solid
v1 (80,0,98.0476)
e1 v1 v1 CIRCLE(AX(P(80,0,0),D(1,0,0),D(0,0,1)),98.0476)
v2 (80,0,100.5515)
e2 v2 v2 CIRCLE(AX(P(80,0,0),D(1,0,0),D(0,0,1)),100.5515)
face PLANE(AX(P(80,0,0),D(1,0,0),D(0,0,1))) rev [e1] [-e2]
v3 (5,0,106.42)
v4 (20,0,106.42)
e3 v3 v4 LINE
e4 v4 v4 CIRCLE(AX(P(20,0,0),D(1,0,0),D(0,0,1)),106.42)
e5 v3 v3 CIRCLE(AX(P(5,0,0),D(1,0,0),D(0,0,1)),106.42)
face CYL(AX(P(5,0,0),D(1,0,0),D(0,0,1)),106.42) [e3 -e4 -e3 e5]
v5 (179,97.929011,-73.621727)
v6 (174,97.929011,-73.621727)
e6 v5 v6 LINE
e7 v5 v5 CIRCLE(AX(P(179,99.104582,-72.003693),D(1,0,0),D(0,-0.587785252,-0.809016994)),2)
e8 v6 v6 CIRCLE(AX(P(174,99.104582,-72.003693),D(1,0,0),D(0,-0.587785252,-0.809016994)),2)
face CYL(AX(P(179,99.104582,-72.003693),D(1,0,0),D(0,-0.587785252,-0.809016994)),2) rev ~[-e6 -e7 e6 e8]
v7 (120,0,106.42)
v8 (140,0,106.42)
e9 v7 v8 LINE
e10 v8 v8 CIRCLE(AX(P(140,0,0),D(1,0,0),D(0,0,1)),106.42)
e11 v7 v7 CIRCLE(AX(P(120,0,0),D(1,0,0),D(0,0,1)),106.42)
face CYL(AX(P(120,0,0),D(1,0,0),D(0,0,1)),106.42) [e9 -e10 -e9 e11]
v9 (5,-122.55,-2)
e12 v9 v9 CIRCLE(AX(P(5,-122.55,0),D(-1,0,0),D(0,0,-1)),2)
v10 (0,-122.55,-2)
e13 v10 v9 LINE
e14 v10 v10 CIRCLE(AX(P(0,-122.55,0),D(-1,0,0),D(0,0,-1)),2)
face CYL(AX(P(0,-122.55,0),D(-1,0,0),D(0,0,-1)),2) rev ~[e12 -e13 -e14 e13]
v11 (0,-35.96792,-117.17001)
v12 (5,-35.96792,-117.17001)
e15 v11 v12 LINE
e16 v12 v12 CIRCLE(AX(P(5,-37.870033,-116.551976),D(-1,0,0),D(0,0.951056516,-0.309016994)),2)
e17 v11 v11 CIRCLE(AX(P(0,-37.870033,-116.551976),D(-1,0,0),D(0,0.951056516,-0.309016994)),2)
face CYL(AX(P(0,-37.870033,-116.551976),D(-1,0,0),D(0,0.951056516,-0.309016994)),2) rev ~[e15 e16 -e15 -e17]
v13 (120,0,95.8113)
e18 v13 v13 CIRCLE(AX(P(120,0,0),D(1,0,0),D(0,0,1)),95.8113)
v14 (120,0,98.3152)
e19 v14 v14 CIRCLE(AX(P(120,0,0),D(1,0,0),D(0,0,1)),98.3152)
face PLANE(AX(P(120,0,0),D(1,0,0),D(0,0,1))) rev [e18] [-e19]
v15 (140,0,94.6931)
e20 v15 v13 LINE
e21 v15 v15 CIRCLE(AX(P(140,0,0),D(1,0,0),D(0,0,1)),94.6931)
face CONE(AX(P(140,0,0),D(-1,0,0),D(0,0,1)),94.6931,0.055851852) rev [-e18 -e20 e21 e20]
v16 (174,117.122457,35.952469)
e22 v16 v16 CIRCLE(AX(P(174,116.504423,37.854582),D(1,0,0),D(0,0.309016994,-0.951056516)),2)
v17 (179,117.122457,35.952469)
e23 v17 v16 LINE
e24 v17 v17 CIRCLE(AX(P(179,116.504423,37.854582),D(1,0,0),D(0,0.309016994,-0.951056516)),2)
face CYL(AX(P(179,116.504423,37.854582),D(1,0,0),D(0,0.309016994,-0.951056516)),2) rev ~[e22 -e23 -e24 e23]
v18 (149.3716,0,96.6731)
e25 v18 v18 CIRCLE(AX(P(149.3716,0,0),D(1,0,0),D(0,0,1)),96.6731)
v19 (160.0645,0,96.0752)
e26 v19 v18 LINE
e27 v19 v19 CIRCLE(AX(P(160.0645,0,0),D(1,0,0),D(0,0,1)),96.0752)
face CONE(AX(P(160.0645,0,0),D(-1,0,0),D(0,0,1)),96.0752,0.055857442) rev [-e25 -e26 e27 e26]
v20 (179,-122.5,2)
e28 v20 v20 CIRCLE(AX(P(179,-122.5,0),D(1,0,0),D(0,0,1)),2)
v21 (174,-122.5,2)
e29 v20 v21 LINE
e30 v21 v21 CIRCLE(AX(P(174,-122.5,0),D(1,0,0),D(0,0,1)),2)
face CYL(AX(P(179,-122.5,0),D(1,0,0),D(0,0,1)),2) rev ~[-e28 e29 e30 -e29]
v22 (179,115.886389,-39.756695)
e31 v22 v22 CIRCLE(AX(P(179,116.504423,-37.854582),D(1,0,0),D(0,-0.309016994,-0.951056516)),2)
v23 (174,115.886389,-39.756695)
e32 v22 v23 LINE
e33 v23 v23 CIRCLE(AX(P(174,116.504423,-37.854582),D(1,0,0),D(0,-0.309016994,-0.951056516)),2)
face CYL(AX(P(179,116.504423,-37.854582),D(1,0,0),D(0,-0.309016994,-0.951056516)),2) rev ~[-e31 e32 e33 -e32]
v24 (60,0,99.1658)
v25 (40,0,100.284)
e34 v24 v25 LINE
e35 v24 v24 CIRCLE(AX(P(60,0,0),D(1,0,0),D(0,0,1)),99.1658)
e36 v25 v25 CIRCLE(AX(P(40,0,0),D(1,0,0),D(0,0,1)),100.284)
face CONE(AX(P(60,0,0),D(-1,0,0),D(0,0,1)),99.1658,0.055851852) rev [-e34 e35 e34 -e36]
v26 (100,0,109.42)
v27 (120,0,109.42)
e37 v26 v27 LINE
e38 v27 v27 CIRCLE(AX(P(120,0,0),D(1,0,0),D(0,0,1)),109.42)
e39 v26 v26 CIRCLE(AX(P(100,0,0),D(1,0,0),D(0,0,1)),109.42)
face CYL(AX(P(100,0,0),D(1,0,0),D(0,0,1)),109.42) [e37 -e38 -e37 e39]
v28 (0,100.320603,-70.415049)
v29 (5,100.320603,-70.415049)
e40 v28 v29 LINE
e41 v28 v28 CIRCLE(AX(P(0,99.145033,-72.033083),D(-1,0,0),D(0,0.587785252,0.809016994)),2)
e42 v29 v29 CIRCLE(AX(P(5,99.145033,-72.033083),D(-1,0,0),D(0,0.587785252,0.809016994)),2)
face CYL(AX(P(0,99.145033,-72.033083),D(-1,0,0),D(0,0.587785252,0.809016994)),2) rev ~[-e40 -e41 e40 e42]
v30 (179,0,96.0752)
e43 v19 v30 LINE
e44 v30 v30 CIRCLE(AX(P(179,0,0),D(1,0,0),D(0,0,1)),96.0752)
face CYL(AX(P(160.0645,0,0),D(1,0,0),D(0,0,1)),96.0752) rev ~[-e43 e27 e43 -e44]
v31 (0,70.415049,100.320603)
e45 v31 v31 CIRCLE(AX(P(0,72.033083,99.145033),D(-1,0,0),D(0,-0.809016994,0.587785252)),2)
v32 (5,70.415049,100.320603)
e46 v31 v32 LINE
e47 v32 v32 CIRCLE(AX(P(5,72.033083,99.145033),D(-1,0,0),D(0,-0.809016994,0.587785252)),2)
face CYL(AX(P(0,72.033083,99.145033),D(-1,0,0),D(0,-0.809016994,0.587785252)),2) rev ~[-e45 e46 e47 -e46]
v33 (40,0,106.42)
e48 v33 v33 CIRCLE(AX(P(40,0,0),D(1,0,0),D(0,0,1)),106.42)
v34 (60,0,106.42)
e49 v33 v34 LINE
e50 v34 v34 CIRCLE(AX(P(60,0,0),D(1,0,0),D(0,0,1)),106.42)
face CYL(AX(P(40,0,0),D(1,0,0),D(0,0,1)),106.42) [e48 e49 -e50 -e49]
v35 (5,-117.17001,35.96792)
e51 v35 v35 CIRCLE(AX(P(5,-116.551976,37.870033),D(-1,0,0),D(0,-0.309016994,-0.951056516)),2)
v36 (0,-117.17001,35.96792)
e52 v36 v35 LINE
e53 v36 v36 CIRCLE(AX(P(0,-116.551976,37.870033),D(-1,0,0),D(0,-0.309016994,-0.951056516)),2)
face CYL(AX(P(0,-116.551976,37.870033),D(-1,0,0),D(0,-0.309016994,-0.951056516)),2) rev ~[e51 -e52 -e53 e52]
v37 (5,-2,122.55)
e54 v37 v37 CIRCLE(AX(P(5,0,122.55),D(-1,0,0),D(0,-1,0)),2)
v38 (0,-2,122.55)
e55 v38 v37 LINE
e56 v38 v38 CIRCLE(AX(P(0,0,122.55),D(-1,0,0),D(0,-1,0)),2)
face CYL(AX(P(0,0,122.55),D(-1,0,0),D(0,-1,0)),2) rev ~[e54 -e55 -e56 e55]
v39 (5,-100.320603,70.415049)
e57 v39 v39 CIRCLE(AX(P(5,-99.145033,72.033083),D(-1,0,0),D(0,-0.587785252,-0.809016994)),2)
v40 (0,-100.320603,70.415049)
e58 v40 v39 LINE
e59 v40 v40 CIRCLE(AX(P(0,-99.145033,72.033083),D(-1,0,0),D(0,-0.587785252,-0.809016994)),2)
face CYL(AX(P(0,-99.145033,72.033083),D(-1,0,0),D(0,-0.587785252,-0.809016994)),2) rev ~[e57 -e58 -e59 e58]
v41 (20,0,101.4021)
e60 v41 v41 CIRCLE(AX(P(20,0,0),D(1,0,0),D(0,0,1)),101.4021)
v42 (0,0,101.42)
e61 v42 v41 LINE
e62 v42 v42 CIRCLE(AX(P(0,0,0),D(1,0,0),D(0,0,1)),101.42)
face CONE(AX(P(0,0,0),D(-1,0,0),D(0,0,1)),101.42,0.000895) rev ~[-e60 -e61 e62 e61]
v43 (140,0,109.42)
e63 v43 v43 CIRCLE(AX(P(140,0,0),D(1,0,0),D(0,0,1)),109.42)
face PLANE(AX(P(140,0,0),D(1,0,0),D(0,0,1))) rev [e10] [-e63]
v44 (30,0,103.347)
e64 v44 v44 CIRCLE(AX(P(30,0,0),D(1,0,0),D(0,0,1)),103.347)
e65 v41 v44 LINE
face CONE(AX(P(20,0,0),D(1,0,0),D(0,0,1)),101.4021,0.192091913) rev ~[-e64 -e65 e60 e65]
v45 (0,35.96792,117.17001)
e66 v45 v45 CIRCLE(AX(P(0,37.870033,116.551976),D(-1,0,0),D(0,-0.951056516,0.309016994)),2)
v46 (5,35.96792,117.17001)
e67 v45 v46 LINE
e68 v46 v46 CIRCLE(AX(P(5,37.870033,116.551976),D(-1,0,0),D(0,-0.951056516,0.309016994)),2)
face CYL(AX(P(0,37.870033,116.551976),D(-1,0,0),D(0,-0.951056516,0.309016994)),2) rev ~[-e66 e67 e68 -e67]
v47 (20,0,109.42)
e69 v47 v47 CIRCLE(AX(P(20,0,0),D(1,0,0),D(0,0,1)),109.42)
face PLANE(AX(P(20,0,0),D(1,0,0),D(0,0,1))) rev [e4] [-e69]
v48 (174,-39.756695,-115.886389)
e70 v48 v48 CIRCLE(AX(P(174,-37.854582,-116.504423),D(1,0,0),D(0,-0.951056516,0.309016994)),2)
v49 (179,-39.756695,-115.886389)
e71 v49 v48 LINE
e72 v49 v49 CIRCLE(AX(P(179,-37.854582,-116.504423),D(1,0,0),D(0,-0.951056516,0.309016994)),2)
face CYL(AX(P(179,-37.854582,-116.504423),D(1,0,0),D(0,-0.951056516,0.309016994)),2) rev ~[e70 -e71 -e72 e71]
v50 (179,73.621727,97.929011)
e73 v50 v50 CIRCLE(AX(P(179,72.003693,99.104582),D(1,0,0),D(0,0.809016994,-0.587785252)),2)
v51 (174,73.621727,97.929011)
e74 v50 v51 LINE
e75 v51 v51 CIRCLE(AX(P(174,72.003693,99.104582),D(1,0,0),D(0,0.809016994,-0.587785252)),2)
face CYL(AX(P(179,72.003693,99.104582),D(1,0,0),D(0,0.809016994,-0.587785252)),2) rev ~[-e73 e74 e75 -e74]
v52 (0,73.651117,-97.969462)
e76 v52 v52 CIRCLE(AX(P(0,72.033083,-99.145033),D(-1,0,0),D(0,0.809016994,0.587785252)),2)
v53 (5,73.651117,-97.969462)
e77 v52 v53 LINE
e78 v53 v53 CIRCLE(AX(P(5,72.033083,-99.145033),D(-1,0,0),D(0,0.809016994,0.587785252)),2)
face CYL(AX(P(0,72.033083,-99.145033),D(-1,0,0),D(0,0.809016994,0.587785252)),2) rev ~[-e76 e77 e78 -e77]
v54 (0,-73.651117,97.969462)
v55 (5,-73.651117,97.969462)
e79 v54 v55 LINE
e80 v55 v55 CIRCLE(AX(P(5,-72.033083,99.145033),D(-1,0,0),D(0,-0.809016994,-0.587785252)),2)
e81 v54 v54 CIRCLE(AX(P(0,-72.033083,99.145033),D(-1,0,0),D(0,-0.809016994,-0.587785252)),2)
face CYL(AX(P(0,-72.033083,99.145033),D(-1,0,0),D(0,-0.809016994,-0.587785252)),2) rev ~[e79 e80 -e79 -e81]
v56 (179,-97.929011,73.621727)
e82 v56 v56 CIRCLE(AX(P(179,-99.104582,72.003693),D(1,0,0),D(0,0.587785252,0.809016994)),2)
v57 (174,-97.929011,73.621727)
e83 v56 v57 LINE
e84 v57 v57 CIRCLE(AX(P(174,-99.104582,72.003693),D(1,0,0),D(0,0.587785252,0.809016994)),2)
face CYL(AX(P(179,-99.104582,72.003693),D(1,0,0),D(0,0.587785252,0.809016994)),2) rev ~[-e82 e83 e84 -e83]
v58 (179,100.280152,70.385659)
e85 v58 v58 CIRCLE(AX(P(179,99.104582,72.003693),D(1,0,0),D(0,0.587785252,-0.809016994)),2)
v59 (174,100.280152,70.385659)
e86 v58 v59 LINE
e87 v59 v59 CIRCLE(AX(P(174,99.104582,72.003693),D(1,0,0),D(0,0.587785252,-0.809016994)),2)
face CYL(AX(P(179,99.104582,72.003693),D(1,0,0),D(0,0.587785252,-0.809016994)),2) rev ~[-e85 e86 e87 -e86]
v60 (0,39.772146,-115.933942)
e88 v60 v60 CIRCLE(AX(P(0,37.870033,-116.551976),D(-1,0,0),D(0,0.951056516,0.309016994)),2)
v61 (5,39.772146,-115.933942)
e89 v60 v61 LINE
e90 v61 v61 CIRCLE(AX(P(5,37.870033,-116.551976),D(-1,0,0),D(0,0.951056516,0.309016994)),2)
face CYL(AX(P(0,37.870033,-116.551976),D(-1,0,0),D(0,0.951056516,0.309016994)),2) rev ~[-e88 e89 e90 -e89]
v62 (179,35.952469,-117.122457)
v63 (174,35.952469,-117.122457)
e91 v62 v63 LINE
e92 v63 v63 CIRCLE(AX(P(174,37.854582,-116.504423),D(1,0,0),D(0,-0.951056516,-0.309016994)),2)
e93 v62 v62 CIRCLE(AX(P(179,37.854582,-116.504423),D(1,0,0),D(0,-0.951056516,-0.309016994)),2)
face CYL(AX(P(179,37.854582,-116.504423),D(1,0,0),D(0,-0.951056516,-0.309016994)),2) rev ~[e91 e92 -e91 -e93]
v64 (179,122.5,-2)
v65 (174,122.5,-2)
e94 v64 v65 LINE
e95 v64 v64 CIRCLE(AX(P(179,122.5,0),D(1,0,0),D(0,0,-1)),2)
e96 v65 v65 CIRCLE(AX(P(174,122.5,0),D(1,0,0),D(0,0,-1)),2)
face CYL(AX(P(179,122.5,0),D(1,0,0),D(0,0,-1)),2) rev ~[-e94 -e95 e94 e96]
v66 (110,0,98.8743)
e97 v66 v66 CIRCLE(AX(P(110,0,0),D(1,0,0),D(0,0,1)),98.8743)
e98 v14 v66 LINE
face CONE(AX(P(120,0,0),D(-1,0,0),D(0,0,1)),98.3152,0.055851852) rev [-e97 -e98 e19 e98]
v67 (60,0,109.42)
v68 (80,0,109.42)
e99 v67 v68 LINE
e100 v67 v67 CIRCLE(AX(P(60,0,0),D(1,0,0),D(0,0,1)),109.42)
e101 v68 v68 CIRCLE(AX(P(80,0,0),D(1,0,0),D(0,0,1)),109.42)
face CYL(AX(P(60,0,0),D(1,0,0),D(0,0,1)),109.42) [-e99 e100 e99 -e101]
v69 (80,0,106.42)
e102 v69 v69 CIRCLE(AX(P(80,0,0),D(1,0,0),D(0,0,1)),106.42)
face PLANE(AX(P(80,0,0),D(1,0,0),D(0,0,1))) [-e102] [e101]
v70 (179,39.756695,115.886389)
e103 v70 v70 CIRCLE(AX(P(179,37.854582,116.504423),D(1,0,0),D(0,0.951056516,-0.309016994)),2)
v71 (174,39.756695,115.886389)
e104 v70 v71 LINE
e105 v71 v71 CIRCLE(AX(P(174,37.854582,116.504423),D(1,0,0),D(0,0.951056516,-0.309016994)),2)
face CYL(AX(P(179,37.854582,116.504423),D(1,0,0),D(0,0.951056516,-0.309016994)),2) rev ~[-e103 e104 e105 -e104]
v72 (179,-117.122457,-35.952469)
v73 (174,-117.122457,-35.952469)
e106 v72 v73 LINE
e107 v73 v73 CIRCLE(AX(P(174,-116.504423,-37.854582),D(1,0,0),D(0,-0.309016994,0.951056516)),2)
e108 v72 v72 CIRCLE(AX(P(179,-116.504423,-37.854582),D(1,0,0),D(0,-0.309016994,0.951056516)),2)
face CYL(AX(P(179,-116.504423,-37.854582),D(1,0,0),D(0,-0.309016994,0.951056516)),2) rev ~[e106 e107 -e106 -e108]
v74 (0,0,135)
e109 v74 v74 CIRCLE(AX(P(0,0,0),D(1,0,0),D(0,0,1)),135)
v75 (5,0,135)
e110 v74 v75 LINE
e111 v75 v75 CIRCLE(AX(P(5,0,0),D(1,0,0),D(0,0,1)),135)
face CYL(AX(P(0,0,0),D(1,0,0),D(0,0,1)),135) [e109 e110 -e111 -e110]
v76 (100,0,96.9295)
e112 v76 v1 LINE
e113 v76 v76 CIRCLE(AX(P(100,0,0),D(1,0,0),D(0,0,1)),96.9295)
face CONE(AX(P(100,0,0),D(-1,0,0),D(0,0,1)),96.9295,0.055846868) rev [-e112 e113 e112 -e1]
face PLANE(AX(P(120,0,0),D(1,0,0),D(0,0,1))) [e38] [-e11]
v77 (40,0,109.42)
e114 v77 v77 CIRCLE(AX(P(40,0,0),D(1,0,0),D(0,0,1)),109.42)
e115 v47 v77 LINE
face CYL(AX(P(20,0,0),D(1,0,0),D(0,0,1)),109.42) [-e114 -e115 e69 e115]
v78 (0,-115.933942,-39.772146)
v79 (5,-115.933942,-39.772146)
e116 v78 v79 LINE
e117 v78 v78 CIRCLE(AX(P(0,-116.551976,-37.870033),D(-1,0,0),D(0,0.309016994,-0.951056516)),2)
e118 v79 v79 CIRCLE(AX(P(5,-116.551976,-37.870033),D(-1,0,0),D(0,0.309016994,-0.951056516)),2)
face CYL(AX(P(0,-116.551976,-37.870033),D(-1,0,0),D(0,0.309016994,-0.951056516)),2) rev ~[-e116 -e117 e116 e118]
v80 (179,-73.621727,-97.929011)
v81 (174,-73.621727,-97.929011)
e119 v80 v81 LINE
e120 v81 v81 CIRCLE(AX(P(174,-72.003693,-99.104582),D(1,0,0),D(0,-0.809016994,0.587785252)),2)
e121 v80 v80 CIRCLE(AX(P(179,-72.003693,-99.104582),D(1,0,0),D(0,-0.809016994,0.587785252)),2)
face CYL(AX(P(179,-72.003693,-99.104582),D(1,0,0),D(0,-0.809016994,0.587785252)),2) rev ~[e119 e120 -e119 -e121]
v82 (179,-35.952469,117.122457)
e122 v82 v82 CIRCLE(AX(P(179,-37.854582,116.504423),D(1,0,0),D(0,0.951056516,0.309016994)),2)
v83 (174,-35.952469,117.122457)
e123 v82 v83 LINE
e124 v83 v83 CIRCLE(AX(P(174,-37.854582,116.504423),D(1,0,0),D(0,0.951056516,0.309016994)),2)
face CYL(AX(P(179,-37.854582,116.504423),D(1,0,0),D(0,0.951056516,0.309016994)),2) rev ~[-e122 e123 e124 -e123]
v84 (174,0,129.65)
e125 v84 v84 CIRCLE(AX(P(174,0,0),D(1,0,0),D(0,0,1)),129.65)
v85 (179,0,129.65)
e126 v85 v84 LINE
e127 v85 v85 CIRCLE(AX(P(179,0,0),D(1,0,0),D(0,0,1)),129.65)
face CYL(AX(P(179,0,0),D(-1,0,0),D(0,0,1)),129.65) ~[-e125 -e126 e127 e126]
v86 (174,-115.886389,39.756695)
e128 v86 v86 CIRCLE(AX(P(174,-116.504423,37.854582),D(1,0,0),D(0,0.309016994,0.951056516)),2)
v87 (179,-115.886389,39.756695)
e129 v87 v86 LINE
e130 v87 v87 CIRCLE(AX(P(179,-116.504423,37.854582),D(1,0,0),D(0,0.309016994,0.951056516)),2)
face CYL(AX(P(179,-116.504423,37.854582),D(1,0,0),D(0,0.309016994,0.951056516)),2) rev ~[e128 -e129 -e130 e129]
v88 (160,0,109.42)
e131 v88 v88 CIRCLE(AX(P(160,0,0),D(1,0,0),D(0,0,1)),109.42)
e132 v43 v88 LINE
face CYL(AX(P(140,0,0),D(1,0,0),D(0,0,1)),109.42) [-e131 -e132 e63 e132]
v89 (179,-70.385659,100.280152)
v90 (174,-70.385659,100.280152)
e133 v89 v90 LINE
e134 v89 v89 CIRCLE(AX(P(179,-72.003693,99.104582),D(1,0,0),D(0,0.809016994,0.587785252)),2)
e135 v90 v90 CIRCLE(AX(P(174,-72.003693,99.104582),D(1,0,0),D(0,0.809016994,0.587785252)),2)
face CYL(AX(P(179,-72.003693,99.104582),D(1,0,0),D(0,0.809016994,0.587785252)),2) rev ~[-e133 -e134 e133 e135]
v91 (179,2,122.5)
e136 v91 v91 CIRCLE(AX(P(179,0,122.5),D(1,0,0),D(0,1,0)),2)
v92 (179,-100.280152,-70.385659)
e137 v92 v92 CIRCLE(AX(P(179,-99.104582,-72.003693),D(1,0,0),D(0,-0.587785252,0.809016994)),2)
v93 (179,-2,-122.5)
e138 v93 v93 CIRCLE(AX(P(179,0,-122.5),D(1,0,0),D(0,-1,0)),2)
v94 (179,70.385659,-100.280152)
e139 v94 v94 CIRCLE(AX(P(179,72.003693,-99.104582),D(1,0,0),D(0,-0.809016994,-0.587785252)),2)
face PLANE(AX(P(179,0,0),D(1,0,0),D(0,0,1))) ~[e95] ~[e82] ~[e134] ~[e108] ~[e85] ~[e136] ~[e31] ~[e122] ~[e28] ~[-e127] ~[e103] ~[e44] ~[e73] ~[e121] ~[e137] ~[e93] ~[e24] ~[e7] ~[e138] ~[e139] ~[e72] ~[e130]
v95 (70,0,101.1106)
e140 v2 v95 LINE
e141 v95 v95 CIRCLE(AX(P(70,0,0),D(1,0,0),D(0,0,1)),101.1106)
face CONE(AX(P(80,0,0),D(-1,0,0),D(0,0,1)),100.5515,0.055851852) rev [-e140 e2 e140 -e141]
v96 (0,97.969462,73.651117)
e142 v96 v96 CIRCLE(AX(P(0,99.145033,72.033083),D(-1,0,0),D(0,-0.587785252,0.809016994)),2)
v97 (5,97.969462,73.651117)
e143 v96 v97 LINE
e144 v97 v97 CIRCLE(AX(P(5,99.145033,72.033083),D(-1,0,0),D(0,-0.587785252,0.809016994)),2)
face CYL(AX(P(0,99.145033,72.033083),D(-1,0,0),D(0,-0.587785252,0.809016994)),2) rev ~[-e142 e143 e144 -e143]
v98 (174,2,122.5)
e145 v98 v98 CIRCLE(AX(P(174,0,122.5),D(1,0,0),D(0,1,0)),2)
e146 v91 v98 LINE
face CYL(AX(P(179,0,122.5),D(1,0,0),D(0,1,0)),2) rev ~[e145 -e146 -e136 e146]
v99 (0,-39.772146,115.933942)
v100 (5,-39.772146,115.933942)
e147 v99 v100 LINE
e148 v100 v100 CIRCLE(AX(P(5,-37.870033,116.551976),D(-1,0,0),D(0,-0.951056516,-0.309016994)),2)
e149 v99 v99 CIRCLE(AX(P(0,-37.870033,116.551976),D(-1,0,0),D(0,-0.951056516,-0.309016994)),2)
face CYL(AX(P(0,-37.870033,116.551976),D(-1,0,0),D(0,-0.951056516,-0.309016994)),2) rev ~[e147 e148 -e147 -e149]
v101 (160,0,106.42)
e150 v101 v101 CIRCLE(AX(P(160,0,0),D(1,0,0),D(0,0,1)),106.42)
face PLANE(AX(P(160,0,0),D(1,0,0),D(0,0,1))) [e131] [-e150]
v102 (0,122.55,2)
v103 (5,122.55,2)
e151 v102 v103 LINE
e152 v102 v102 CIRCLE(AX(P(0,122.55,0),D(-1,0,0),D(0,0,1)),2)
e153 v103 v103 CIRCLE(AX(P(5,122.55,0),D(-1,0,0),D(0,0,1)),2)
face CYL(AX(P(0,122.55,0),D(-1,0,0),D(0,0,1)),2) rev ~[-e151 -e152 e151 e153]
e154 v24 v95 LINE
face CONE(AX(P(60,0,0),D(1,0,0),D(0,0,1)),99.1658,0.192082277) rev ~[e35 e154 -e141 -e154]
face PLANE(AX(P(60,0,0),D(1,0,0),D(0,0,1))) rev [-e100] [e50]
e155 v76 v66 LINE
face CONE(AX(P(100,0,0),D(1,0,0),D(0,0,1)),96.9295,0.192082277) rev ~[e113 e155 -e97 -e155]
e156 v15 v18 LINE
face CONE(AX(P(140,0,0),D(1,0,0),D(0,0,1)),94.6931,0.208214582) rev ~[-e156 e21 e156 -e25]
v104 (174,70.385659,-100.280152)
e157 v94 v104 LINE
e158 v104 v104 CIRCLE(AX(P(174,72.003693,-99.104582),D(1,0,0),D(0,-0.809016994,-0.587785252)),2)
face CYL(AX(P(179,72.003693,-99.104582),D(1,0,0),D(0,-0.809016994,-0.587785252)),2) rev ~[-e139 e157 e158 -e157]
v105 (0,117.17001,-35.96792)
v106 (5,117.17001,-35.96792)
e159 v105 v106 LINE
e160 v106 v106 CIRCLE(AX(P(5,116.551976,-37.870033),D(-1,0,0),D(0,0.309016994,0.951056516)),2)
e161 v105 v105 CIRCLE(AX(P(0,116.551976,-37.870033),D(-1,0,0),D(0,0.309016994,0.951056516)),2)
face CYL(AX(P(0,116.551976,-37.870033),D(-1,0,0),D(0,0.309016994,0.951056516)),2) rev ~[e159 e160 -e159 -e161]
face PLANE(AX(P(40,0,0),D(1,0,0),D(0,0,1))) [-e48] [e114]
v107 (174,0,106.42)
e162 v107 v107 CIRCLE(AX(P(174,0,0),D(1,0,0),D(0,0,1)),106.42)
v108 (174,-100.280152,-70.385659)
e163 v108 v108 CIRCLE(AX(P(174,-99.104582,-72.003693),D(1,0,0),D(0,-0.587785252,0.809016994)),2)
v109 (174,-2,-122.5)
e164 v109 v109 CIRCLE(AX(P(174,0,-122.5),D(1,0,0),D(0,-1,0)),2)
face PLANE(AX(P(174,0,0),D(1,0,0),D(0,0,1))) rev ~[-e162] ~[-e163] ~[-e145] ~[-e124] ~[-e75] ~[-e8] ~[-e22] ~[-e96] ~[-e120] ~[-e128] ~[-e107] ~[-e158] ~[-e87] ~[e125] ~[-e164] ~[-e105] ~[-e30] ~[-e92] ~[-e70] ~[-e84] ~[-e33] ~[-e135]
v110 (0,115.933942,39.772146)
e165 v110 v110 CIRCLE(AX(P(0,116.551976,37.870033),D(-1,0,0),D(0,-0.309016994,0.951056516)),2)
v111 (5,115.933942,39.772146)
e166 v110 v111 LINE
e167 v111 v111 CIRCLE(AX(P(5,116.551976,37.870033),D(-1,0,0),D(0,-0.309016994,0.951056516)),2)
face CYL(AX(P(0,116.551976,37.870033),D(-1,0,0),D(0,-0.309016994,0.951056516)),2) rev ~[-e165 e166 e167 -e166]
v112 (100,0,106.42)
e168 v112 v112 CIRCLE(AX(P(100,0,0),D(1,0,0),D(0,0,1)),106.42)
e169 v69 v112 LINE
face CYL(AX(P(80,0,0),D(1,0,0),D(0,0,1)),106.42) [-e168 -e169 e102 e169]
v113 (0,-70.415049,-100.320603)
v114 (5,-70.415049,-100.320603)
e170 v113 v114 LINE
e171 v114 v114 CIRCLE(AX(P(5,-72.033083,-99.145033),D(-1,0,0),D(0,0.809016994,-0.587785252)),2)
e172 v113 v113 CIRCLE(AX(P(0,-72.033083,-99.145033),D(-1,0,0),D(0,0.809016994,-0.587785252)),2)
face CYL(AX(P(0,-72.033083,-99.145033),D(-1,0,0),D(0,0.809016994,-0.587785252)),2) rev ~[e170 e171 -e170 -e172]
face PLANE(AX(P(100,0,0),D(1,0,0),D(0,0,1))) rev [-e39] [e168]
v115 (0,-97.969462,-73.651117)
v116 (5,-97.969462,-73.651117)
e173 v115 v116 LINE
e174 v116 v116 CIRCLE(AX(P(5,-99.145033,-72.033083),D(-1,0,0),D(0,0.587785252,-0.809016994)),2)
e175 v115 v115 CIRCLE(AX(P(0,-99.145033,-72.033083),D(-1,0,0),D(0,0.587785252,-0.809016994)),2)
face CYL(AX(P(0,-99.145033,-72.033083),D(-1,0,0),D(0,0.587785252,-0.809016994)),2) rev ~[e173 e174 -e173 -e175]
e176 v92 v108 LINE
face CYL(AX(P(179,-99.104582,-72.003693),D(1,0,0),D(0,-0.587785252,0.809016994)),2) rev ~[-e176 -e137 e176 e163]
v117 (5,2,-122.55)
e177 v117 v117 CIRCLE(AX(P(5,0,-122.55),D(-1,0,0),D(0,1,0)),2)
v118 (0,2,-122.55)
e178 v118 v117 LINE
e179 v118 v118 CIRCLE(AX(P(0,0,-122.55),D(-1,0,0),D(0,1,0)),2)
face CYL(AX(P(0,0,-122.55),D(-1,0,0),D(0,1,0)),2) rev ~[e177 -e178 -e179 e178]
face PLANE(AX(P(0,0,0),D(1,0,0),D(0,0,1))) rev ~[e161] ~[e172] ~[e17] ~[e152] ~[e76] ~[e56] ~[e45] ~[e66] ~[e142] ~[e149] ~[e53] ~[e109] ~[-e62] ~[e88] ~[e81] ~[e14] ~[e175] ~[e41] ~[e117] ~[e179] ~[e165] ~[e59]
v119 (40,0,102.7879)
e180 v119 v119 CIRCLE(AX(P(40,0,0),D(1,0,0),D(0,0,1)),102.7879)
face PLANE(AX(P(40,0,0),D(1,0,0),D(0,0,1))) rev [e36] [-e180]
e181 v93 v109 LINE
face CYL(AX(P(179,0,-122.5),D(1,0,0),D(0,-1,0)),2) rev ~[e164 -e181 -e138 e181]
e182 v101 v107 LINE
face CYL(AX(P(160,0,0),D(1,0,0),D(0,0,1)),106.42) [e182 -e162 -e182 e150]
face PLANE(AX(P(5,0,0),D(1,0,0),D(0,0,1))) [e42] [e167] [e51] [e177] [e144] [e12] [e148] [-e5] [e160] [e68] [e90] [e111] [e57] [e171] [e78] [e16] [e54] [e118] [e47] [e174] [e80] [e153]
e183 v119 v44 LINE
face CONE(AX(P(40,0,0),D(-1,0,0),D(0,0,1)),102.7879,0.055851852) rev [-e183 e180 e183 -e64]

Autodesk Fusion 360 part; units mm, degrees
sketch "Sketch1" plane through (0, 0, 0) normal (0, 1, 0) x (1, 0, 0)
  line L0 (0, 0) -> (179, 0) construction
  line L1 (179, 0) -> (179, -135) construction
  line L2 (179, -135) -> (0, -135) construction
  line L3 (0, -135) -> (0, 0) construction
  line L4 (0, -135) -> (0, -101.42)
  dimension "d1" = 179
  dimension "d2" = 135
  dimension "d3" = 101.42
sketch "Sketch2" plane through (0, 0, 0) normal (0, 1, 0) x (1, 0, 0)
  line L0 (0, 0) -> (160, 0) construction
  line L1 (179, -135) -> (0, -135) construction
  line L2 (0, -135) -> (0, 0) construction
  line L3 (0, -135) -> (0, -101.42)
  line L4 (80, -98.0476) -> (80, -100.5515)
  line L5 (40, -100.284) -> (40, -102.7879)
  line L6 (120, -95.8113) -> (120, -98.3152)
  line L7 (80, -100.5515) -> (70, -101.1106)
  line L8 (60, -99.1658) -> (70, -101.1106)
  line L9 (60, -99.1658) -> (40, -100.284)
  line L10 (40, -102.7879) -> (30, -103.347)
  line L11 (20, -101.4021) -> (30, -103.347)
  line L12 (160.0645, -96.0752) -> (149.3716, -96.6731)
  line L13 (140, -94.6931) -> (149.3716, -96.6731)
  line L14 (140, -94.6931) -> (120, -95.8113)
  line L15 (120, -98.3152) -> (110, -98.8743)
  line L16 (100, -96.9295) -> (110, -98.8743)
  line L17 (100, -96.9295) -> (80, -98.0476)
  line L18 (0, -101.42) -> (20, -101.4021)
  line L19 (160.0645, -96.0752) -> (179, -96.0752)
  line L20 (179, 0) -> (179, -135)
  line L21 (179, -96.0752) -> (179, -129.65)
  line L22 (179, -129.65) -> (174, -129.65)
  line L23 (0, -135) -> (5, -135)
  line L24 (5, -135) -> (5, -106.42)
  line L25 (174, -129.65) -> (174, -106.42)
  line L26 (5, -106.42) -> (20, -106.42)
  line L27 (20, -106.42) -> (20, -109.42)
  line L28 (20, -109.42) -> (40, -109.42)
  line L29 (40, -109.42) -> (40, -106.42)
  line L30 (40, -106.42) -> (60, -106.42)
  line L31 (60, -106.42) -> (60, -109.42)
  line L32 (60, -109.42) -> (80, -109.42)
  line L33 (80, -109.42) -> (80, -106.42)
  line L34 (80, -106.42) -> (100, -106.42)
  line L35 (100, -106.42) -> (100, -109.42)
  line L36 (100, -109.42) -> (120, -109.42)
  line L37 (120, -109.42) -> (120, -106.42)
  line L38 (120, -106.42) -> (140, -106.42)
  line L39 (140, -106.42) -> (140, -109.42)
  line L40 (140, -109.42) -> (160, -109.42)
  line L41 (160, -109.42) -> (160, -106.42)
  line L42 (160, -106.42) -> (174, -106.42)
  point P0 (179, 0)
  dimension "d4" = 179
  dimension "d5" = 135
  dimension "d6" = 101.42
  dimension "d7" = 129.65
  dimension "d8" = 5
  dimension "d9" = 5
  dimension "d10" = 5
  dimension "d12" = 15
  dimension "d13" = 109.42
  dimension "d14" = 20
  dimension "d15" = 20
  dimension "d16" = 3
  dimension "d17" = 20
  dimension "d18" = 3
  dimension "d19" = 20
  dimension "d20" = 3
  dimension "d21" = 20
  dimension "d22" = 20
  dimension "d23" = 3
  dimension "d24" = 20
  dimension "d25" = 3
revolve "Revolve1" add sketch "Sketch2" angle 360 about axis through (0, 0, 0) along (1, 0, 0)
sketch "Sketch3" plane through (0, 0, 0) normal (-1, 0, 0) x (0, -1, 0)
  circle A0 centre (0, 0) radius 135
  circle A1 centre (0, 0) radius 101.42
  line L0 (0, 0) -> (0, 166.4632) construction
  circle A2 centre (0, 122.55) radius 2
  dimension "d27" = 4
  dimension "d28" = 122.55
extrude "Extrude1" cut sketch "Sketch3" against normal blind 12 contours A2
pattern_circular "C-Pattern1" count 20 over 360 about axis through (1.75, 0, 0) along (1, 0, 0) of "Extrude1"
sketch "Sketch4" plane through (179, 0, 0) normal (1, 0, 0) x (0, 1, 0)
  circle A0 centre (0, 0) radius 96.0752
  circle A1 centre (0, 0) radius 129.65
  line L0 (0, 0) -> (0, 177.3715) construction
  circle A2 centre (0, 122.5) radius 2
  dimension "d33" = 4
  dimension "d34" = 122.5
extrude "Extrude2" cut sketch "Sketch4" against normal blind 13 contours A2
pattern_circular "C-Pattern2" count 20 over 360 about axis through (1.75, 0, 0) along (1, 0, 0) of "Extrude2"
